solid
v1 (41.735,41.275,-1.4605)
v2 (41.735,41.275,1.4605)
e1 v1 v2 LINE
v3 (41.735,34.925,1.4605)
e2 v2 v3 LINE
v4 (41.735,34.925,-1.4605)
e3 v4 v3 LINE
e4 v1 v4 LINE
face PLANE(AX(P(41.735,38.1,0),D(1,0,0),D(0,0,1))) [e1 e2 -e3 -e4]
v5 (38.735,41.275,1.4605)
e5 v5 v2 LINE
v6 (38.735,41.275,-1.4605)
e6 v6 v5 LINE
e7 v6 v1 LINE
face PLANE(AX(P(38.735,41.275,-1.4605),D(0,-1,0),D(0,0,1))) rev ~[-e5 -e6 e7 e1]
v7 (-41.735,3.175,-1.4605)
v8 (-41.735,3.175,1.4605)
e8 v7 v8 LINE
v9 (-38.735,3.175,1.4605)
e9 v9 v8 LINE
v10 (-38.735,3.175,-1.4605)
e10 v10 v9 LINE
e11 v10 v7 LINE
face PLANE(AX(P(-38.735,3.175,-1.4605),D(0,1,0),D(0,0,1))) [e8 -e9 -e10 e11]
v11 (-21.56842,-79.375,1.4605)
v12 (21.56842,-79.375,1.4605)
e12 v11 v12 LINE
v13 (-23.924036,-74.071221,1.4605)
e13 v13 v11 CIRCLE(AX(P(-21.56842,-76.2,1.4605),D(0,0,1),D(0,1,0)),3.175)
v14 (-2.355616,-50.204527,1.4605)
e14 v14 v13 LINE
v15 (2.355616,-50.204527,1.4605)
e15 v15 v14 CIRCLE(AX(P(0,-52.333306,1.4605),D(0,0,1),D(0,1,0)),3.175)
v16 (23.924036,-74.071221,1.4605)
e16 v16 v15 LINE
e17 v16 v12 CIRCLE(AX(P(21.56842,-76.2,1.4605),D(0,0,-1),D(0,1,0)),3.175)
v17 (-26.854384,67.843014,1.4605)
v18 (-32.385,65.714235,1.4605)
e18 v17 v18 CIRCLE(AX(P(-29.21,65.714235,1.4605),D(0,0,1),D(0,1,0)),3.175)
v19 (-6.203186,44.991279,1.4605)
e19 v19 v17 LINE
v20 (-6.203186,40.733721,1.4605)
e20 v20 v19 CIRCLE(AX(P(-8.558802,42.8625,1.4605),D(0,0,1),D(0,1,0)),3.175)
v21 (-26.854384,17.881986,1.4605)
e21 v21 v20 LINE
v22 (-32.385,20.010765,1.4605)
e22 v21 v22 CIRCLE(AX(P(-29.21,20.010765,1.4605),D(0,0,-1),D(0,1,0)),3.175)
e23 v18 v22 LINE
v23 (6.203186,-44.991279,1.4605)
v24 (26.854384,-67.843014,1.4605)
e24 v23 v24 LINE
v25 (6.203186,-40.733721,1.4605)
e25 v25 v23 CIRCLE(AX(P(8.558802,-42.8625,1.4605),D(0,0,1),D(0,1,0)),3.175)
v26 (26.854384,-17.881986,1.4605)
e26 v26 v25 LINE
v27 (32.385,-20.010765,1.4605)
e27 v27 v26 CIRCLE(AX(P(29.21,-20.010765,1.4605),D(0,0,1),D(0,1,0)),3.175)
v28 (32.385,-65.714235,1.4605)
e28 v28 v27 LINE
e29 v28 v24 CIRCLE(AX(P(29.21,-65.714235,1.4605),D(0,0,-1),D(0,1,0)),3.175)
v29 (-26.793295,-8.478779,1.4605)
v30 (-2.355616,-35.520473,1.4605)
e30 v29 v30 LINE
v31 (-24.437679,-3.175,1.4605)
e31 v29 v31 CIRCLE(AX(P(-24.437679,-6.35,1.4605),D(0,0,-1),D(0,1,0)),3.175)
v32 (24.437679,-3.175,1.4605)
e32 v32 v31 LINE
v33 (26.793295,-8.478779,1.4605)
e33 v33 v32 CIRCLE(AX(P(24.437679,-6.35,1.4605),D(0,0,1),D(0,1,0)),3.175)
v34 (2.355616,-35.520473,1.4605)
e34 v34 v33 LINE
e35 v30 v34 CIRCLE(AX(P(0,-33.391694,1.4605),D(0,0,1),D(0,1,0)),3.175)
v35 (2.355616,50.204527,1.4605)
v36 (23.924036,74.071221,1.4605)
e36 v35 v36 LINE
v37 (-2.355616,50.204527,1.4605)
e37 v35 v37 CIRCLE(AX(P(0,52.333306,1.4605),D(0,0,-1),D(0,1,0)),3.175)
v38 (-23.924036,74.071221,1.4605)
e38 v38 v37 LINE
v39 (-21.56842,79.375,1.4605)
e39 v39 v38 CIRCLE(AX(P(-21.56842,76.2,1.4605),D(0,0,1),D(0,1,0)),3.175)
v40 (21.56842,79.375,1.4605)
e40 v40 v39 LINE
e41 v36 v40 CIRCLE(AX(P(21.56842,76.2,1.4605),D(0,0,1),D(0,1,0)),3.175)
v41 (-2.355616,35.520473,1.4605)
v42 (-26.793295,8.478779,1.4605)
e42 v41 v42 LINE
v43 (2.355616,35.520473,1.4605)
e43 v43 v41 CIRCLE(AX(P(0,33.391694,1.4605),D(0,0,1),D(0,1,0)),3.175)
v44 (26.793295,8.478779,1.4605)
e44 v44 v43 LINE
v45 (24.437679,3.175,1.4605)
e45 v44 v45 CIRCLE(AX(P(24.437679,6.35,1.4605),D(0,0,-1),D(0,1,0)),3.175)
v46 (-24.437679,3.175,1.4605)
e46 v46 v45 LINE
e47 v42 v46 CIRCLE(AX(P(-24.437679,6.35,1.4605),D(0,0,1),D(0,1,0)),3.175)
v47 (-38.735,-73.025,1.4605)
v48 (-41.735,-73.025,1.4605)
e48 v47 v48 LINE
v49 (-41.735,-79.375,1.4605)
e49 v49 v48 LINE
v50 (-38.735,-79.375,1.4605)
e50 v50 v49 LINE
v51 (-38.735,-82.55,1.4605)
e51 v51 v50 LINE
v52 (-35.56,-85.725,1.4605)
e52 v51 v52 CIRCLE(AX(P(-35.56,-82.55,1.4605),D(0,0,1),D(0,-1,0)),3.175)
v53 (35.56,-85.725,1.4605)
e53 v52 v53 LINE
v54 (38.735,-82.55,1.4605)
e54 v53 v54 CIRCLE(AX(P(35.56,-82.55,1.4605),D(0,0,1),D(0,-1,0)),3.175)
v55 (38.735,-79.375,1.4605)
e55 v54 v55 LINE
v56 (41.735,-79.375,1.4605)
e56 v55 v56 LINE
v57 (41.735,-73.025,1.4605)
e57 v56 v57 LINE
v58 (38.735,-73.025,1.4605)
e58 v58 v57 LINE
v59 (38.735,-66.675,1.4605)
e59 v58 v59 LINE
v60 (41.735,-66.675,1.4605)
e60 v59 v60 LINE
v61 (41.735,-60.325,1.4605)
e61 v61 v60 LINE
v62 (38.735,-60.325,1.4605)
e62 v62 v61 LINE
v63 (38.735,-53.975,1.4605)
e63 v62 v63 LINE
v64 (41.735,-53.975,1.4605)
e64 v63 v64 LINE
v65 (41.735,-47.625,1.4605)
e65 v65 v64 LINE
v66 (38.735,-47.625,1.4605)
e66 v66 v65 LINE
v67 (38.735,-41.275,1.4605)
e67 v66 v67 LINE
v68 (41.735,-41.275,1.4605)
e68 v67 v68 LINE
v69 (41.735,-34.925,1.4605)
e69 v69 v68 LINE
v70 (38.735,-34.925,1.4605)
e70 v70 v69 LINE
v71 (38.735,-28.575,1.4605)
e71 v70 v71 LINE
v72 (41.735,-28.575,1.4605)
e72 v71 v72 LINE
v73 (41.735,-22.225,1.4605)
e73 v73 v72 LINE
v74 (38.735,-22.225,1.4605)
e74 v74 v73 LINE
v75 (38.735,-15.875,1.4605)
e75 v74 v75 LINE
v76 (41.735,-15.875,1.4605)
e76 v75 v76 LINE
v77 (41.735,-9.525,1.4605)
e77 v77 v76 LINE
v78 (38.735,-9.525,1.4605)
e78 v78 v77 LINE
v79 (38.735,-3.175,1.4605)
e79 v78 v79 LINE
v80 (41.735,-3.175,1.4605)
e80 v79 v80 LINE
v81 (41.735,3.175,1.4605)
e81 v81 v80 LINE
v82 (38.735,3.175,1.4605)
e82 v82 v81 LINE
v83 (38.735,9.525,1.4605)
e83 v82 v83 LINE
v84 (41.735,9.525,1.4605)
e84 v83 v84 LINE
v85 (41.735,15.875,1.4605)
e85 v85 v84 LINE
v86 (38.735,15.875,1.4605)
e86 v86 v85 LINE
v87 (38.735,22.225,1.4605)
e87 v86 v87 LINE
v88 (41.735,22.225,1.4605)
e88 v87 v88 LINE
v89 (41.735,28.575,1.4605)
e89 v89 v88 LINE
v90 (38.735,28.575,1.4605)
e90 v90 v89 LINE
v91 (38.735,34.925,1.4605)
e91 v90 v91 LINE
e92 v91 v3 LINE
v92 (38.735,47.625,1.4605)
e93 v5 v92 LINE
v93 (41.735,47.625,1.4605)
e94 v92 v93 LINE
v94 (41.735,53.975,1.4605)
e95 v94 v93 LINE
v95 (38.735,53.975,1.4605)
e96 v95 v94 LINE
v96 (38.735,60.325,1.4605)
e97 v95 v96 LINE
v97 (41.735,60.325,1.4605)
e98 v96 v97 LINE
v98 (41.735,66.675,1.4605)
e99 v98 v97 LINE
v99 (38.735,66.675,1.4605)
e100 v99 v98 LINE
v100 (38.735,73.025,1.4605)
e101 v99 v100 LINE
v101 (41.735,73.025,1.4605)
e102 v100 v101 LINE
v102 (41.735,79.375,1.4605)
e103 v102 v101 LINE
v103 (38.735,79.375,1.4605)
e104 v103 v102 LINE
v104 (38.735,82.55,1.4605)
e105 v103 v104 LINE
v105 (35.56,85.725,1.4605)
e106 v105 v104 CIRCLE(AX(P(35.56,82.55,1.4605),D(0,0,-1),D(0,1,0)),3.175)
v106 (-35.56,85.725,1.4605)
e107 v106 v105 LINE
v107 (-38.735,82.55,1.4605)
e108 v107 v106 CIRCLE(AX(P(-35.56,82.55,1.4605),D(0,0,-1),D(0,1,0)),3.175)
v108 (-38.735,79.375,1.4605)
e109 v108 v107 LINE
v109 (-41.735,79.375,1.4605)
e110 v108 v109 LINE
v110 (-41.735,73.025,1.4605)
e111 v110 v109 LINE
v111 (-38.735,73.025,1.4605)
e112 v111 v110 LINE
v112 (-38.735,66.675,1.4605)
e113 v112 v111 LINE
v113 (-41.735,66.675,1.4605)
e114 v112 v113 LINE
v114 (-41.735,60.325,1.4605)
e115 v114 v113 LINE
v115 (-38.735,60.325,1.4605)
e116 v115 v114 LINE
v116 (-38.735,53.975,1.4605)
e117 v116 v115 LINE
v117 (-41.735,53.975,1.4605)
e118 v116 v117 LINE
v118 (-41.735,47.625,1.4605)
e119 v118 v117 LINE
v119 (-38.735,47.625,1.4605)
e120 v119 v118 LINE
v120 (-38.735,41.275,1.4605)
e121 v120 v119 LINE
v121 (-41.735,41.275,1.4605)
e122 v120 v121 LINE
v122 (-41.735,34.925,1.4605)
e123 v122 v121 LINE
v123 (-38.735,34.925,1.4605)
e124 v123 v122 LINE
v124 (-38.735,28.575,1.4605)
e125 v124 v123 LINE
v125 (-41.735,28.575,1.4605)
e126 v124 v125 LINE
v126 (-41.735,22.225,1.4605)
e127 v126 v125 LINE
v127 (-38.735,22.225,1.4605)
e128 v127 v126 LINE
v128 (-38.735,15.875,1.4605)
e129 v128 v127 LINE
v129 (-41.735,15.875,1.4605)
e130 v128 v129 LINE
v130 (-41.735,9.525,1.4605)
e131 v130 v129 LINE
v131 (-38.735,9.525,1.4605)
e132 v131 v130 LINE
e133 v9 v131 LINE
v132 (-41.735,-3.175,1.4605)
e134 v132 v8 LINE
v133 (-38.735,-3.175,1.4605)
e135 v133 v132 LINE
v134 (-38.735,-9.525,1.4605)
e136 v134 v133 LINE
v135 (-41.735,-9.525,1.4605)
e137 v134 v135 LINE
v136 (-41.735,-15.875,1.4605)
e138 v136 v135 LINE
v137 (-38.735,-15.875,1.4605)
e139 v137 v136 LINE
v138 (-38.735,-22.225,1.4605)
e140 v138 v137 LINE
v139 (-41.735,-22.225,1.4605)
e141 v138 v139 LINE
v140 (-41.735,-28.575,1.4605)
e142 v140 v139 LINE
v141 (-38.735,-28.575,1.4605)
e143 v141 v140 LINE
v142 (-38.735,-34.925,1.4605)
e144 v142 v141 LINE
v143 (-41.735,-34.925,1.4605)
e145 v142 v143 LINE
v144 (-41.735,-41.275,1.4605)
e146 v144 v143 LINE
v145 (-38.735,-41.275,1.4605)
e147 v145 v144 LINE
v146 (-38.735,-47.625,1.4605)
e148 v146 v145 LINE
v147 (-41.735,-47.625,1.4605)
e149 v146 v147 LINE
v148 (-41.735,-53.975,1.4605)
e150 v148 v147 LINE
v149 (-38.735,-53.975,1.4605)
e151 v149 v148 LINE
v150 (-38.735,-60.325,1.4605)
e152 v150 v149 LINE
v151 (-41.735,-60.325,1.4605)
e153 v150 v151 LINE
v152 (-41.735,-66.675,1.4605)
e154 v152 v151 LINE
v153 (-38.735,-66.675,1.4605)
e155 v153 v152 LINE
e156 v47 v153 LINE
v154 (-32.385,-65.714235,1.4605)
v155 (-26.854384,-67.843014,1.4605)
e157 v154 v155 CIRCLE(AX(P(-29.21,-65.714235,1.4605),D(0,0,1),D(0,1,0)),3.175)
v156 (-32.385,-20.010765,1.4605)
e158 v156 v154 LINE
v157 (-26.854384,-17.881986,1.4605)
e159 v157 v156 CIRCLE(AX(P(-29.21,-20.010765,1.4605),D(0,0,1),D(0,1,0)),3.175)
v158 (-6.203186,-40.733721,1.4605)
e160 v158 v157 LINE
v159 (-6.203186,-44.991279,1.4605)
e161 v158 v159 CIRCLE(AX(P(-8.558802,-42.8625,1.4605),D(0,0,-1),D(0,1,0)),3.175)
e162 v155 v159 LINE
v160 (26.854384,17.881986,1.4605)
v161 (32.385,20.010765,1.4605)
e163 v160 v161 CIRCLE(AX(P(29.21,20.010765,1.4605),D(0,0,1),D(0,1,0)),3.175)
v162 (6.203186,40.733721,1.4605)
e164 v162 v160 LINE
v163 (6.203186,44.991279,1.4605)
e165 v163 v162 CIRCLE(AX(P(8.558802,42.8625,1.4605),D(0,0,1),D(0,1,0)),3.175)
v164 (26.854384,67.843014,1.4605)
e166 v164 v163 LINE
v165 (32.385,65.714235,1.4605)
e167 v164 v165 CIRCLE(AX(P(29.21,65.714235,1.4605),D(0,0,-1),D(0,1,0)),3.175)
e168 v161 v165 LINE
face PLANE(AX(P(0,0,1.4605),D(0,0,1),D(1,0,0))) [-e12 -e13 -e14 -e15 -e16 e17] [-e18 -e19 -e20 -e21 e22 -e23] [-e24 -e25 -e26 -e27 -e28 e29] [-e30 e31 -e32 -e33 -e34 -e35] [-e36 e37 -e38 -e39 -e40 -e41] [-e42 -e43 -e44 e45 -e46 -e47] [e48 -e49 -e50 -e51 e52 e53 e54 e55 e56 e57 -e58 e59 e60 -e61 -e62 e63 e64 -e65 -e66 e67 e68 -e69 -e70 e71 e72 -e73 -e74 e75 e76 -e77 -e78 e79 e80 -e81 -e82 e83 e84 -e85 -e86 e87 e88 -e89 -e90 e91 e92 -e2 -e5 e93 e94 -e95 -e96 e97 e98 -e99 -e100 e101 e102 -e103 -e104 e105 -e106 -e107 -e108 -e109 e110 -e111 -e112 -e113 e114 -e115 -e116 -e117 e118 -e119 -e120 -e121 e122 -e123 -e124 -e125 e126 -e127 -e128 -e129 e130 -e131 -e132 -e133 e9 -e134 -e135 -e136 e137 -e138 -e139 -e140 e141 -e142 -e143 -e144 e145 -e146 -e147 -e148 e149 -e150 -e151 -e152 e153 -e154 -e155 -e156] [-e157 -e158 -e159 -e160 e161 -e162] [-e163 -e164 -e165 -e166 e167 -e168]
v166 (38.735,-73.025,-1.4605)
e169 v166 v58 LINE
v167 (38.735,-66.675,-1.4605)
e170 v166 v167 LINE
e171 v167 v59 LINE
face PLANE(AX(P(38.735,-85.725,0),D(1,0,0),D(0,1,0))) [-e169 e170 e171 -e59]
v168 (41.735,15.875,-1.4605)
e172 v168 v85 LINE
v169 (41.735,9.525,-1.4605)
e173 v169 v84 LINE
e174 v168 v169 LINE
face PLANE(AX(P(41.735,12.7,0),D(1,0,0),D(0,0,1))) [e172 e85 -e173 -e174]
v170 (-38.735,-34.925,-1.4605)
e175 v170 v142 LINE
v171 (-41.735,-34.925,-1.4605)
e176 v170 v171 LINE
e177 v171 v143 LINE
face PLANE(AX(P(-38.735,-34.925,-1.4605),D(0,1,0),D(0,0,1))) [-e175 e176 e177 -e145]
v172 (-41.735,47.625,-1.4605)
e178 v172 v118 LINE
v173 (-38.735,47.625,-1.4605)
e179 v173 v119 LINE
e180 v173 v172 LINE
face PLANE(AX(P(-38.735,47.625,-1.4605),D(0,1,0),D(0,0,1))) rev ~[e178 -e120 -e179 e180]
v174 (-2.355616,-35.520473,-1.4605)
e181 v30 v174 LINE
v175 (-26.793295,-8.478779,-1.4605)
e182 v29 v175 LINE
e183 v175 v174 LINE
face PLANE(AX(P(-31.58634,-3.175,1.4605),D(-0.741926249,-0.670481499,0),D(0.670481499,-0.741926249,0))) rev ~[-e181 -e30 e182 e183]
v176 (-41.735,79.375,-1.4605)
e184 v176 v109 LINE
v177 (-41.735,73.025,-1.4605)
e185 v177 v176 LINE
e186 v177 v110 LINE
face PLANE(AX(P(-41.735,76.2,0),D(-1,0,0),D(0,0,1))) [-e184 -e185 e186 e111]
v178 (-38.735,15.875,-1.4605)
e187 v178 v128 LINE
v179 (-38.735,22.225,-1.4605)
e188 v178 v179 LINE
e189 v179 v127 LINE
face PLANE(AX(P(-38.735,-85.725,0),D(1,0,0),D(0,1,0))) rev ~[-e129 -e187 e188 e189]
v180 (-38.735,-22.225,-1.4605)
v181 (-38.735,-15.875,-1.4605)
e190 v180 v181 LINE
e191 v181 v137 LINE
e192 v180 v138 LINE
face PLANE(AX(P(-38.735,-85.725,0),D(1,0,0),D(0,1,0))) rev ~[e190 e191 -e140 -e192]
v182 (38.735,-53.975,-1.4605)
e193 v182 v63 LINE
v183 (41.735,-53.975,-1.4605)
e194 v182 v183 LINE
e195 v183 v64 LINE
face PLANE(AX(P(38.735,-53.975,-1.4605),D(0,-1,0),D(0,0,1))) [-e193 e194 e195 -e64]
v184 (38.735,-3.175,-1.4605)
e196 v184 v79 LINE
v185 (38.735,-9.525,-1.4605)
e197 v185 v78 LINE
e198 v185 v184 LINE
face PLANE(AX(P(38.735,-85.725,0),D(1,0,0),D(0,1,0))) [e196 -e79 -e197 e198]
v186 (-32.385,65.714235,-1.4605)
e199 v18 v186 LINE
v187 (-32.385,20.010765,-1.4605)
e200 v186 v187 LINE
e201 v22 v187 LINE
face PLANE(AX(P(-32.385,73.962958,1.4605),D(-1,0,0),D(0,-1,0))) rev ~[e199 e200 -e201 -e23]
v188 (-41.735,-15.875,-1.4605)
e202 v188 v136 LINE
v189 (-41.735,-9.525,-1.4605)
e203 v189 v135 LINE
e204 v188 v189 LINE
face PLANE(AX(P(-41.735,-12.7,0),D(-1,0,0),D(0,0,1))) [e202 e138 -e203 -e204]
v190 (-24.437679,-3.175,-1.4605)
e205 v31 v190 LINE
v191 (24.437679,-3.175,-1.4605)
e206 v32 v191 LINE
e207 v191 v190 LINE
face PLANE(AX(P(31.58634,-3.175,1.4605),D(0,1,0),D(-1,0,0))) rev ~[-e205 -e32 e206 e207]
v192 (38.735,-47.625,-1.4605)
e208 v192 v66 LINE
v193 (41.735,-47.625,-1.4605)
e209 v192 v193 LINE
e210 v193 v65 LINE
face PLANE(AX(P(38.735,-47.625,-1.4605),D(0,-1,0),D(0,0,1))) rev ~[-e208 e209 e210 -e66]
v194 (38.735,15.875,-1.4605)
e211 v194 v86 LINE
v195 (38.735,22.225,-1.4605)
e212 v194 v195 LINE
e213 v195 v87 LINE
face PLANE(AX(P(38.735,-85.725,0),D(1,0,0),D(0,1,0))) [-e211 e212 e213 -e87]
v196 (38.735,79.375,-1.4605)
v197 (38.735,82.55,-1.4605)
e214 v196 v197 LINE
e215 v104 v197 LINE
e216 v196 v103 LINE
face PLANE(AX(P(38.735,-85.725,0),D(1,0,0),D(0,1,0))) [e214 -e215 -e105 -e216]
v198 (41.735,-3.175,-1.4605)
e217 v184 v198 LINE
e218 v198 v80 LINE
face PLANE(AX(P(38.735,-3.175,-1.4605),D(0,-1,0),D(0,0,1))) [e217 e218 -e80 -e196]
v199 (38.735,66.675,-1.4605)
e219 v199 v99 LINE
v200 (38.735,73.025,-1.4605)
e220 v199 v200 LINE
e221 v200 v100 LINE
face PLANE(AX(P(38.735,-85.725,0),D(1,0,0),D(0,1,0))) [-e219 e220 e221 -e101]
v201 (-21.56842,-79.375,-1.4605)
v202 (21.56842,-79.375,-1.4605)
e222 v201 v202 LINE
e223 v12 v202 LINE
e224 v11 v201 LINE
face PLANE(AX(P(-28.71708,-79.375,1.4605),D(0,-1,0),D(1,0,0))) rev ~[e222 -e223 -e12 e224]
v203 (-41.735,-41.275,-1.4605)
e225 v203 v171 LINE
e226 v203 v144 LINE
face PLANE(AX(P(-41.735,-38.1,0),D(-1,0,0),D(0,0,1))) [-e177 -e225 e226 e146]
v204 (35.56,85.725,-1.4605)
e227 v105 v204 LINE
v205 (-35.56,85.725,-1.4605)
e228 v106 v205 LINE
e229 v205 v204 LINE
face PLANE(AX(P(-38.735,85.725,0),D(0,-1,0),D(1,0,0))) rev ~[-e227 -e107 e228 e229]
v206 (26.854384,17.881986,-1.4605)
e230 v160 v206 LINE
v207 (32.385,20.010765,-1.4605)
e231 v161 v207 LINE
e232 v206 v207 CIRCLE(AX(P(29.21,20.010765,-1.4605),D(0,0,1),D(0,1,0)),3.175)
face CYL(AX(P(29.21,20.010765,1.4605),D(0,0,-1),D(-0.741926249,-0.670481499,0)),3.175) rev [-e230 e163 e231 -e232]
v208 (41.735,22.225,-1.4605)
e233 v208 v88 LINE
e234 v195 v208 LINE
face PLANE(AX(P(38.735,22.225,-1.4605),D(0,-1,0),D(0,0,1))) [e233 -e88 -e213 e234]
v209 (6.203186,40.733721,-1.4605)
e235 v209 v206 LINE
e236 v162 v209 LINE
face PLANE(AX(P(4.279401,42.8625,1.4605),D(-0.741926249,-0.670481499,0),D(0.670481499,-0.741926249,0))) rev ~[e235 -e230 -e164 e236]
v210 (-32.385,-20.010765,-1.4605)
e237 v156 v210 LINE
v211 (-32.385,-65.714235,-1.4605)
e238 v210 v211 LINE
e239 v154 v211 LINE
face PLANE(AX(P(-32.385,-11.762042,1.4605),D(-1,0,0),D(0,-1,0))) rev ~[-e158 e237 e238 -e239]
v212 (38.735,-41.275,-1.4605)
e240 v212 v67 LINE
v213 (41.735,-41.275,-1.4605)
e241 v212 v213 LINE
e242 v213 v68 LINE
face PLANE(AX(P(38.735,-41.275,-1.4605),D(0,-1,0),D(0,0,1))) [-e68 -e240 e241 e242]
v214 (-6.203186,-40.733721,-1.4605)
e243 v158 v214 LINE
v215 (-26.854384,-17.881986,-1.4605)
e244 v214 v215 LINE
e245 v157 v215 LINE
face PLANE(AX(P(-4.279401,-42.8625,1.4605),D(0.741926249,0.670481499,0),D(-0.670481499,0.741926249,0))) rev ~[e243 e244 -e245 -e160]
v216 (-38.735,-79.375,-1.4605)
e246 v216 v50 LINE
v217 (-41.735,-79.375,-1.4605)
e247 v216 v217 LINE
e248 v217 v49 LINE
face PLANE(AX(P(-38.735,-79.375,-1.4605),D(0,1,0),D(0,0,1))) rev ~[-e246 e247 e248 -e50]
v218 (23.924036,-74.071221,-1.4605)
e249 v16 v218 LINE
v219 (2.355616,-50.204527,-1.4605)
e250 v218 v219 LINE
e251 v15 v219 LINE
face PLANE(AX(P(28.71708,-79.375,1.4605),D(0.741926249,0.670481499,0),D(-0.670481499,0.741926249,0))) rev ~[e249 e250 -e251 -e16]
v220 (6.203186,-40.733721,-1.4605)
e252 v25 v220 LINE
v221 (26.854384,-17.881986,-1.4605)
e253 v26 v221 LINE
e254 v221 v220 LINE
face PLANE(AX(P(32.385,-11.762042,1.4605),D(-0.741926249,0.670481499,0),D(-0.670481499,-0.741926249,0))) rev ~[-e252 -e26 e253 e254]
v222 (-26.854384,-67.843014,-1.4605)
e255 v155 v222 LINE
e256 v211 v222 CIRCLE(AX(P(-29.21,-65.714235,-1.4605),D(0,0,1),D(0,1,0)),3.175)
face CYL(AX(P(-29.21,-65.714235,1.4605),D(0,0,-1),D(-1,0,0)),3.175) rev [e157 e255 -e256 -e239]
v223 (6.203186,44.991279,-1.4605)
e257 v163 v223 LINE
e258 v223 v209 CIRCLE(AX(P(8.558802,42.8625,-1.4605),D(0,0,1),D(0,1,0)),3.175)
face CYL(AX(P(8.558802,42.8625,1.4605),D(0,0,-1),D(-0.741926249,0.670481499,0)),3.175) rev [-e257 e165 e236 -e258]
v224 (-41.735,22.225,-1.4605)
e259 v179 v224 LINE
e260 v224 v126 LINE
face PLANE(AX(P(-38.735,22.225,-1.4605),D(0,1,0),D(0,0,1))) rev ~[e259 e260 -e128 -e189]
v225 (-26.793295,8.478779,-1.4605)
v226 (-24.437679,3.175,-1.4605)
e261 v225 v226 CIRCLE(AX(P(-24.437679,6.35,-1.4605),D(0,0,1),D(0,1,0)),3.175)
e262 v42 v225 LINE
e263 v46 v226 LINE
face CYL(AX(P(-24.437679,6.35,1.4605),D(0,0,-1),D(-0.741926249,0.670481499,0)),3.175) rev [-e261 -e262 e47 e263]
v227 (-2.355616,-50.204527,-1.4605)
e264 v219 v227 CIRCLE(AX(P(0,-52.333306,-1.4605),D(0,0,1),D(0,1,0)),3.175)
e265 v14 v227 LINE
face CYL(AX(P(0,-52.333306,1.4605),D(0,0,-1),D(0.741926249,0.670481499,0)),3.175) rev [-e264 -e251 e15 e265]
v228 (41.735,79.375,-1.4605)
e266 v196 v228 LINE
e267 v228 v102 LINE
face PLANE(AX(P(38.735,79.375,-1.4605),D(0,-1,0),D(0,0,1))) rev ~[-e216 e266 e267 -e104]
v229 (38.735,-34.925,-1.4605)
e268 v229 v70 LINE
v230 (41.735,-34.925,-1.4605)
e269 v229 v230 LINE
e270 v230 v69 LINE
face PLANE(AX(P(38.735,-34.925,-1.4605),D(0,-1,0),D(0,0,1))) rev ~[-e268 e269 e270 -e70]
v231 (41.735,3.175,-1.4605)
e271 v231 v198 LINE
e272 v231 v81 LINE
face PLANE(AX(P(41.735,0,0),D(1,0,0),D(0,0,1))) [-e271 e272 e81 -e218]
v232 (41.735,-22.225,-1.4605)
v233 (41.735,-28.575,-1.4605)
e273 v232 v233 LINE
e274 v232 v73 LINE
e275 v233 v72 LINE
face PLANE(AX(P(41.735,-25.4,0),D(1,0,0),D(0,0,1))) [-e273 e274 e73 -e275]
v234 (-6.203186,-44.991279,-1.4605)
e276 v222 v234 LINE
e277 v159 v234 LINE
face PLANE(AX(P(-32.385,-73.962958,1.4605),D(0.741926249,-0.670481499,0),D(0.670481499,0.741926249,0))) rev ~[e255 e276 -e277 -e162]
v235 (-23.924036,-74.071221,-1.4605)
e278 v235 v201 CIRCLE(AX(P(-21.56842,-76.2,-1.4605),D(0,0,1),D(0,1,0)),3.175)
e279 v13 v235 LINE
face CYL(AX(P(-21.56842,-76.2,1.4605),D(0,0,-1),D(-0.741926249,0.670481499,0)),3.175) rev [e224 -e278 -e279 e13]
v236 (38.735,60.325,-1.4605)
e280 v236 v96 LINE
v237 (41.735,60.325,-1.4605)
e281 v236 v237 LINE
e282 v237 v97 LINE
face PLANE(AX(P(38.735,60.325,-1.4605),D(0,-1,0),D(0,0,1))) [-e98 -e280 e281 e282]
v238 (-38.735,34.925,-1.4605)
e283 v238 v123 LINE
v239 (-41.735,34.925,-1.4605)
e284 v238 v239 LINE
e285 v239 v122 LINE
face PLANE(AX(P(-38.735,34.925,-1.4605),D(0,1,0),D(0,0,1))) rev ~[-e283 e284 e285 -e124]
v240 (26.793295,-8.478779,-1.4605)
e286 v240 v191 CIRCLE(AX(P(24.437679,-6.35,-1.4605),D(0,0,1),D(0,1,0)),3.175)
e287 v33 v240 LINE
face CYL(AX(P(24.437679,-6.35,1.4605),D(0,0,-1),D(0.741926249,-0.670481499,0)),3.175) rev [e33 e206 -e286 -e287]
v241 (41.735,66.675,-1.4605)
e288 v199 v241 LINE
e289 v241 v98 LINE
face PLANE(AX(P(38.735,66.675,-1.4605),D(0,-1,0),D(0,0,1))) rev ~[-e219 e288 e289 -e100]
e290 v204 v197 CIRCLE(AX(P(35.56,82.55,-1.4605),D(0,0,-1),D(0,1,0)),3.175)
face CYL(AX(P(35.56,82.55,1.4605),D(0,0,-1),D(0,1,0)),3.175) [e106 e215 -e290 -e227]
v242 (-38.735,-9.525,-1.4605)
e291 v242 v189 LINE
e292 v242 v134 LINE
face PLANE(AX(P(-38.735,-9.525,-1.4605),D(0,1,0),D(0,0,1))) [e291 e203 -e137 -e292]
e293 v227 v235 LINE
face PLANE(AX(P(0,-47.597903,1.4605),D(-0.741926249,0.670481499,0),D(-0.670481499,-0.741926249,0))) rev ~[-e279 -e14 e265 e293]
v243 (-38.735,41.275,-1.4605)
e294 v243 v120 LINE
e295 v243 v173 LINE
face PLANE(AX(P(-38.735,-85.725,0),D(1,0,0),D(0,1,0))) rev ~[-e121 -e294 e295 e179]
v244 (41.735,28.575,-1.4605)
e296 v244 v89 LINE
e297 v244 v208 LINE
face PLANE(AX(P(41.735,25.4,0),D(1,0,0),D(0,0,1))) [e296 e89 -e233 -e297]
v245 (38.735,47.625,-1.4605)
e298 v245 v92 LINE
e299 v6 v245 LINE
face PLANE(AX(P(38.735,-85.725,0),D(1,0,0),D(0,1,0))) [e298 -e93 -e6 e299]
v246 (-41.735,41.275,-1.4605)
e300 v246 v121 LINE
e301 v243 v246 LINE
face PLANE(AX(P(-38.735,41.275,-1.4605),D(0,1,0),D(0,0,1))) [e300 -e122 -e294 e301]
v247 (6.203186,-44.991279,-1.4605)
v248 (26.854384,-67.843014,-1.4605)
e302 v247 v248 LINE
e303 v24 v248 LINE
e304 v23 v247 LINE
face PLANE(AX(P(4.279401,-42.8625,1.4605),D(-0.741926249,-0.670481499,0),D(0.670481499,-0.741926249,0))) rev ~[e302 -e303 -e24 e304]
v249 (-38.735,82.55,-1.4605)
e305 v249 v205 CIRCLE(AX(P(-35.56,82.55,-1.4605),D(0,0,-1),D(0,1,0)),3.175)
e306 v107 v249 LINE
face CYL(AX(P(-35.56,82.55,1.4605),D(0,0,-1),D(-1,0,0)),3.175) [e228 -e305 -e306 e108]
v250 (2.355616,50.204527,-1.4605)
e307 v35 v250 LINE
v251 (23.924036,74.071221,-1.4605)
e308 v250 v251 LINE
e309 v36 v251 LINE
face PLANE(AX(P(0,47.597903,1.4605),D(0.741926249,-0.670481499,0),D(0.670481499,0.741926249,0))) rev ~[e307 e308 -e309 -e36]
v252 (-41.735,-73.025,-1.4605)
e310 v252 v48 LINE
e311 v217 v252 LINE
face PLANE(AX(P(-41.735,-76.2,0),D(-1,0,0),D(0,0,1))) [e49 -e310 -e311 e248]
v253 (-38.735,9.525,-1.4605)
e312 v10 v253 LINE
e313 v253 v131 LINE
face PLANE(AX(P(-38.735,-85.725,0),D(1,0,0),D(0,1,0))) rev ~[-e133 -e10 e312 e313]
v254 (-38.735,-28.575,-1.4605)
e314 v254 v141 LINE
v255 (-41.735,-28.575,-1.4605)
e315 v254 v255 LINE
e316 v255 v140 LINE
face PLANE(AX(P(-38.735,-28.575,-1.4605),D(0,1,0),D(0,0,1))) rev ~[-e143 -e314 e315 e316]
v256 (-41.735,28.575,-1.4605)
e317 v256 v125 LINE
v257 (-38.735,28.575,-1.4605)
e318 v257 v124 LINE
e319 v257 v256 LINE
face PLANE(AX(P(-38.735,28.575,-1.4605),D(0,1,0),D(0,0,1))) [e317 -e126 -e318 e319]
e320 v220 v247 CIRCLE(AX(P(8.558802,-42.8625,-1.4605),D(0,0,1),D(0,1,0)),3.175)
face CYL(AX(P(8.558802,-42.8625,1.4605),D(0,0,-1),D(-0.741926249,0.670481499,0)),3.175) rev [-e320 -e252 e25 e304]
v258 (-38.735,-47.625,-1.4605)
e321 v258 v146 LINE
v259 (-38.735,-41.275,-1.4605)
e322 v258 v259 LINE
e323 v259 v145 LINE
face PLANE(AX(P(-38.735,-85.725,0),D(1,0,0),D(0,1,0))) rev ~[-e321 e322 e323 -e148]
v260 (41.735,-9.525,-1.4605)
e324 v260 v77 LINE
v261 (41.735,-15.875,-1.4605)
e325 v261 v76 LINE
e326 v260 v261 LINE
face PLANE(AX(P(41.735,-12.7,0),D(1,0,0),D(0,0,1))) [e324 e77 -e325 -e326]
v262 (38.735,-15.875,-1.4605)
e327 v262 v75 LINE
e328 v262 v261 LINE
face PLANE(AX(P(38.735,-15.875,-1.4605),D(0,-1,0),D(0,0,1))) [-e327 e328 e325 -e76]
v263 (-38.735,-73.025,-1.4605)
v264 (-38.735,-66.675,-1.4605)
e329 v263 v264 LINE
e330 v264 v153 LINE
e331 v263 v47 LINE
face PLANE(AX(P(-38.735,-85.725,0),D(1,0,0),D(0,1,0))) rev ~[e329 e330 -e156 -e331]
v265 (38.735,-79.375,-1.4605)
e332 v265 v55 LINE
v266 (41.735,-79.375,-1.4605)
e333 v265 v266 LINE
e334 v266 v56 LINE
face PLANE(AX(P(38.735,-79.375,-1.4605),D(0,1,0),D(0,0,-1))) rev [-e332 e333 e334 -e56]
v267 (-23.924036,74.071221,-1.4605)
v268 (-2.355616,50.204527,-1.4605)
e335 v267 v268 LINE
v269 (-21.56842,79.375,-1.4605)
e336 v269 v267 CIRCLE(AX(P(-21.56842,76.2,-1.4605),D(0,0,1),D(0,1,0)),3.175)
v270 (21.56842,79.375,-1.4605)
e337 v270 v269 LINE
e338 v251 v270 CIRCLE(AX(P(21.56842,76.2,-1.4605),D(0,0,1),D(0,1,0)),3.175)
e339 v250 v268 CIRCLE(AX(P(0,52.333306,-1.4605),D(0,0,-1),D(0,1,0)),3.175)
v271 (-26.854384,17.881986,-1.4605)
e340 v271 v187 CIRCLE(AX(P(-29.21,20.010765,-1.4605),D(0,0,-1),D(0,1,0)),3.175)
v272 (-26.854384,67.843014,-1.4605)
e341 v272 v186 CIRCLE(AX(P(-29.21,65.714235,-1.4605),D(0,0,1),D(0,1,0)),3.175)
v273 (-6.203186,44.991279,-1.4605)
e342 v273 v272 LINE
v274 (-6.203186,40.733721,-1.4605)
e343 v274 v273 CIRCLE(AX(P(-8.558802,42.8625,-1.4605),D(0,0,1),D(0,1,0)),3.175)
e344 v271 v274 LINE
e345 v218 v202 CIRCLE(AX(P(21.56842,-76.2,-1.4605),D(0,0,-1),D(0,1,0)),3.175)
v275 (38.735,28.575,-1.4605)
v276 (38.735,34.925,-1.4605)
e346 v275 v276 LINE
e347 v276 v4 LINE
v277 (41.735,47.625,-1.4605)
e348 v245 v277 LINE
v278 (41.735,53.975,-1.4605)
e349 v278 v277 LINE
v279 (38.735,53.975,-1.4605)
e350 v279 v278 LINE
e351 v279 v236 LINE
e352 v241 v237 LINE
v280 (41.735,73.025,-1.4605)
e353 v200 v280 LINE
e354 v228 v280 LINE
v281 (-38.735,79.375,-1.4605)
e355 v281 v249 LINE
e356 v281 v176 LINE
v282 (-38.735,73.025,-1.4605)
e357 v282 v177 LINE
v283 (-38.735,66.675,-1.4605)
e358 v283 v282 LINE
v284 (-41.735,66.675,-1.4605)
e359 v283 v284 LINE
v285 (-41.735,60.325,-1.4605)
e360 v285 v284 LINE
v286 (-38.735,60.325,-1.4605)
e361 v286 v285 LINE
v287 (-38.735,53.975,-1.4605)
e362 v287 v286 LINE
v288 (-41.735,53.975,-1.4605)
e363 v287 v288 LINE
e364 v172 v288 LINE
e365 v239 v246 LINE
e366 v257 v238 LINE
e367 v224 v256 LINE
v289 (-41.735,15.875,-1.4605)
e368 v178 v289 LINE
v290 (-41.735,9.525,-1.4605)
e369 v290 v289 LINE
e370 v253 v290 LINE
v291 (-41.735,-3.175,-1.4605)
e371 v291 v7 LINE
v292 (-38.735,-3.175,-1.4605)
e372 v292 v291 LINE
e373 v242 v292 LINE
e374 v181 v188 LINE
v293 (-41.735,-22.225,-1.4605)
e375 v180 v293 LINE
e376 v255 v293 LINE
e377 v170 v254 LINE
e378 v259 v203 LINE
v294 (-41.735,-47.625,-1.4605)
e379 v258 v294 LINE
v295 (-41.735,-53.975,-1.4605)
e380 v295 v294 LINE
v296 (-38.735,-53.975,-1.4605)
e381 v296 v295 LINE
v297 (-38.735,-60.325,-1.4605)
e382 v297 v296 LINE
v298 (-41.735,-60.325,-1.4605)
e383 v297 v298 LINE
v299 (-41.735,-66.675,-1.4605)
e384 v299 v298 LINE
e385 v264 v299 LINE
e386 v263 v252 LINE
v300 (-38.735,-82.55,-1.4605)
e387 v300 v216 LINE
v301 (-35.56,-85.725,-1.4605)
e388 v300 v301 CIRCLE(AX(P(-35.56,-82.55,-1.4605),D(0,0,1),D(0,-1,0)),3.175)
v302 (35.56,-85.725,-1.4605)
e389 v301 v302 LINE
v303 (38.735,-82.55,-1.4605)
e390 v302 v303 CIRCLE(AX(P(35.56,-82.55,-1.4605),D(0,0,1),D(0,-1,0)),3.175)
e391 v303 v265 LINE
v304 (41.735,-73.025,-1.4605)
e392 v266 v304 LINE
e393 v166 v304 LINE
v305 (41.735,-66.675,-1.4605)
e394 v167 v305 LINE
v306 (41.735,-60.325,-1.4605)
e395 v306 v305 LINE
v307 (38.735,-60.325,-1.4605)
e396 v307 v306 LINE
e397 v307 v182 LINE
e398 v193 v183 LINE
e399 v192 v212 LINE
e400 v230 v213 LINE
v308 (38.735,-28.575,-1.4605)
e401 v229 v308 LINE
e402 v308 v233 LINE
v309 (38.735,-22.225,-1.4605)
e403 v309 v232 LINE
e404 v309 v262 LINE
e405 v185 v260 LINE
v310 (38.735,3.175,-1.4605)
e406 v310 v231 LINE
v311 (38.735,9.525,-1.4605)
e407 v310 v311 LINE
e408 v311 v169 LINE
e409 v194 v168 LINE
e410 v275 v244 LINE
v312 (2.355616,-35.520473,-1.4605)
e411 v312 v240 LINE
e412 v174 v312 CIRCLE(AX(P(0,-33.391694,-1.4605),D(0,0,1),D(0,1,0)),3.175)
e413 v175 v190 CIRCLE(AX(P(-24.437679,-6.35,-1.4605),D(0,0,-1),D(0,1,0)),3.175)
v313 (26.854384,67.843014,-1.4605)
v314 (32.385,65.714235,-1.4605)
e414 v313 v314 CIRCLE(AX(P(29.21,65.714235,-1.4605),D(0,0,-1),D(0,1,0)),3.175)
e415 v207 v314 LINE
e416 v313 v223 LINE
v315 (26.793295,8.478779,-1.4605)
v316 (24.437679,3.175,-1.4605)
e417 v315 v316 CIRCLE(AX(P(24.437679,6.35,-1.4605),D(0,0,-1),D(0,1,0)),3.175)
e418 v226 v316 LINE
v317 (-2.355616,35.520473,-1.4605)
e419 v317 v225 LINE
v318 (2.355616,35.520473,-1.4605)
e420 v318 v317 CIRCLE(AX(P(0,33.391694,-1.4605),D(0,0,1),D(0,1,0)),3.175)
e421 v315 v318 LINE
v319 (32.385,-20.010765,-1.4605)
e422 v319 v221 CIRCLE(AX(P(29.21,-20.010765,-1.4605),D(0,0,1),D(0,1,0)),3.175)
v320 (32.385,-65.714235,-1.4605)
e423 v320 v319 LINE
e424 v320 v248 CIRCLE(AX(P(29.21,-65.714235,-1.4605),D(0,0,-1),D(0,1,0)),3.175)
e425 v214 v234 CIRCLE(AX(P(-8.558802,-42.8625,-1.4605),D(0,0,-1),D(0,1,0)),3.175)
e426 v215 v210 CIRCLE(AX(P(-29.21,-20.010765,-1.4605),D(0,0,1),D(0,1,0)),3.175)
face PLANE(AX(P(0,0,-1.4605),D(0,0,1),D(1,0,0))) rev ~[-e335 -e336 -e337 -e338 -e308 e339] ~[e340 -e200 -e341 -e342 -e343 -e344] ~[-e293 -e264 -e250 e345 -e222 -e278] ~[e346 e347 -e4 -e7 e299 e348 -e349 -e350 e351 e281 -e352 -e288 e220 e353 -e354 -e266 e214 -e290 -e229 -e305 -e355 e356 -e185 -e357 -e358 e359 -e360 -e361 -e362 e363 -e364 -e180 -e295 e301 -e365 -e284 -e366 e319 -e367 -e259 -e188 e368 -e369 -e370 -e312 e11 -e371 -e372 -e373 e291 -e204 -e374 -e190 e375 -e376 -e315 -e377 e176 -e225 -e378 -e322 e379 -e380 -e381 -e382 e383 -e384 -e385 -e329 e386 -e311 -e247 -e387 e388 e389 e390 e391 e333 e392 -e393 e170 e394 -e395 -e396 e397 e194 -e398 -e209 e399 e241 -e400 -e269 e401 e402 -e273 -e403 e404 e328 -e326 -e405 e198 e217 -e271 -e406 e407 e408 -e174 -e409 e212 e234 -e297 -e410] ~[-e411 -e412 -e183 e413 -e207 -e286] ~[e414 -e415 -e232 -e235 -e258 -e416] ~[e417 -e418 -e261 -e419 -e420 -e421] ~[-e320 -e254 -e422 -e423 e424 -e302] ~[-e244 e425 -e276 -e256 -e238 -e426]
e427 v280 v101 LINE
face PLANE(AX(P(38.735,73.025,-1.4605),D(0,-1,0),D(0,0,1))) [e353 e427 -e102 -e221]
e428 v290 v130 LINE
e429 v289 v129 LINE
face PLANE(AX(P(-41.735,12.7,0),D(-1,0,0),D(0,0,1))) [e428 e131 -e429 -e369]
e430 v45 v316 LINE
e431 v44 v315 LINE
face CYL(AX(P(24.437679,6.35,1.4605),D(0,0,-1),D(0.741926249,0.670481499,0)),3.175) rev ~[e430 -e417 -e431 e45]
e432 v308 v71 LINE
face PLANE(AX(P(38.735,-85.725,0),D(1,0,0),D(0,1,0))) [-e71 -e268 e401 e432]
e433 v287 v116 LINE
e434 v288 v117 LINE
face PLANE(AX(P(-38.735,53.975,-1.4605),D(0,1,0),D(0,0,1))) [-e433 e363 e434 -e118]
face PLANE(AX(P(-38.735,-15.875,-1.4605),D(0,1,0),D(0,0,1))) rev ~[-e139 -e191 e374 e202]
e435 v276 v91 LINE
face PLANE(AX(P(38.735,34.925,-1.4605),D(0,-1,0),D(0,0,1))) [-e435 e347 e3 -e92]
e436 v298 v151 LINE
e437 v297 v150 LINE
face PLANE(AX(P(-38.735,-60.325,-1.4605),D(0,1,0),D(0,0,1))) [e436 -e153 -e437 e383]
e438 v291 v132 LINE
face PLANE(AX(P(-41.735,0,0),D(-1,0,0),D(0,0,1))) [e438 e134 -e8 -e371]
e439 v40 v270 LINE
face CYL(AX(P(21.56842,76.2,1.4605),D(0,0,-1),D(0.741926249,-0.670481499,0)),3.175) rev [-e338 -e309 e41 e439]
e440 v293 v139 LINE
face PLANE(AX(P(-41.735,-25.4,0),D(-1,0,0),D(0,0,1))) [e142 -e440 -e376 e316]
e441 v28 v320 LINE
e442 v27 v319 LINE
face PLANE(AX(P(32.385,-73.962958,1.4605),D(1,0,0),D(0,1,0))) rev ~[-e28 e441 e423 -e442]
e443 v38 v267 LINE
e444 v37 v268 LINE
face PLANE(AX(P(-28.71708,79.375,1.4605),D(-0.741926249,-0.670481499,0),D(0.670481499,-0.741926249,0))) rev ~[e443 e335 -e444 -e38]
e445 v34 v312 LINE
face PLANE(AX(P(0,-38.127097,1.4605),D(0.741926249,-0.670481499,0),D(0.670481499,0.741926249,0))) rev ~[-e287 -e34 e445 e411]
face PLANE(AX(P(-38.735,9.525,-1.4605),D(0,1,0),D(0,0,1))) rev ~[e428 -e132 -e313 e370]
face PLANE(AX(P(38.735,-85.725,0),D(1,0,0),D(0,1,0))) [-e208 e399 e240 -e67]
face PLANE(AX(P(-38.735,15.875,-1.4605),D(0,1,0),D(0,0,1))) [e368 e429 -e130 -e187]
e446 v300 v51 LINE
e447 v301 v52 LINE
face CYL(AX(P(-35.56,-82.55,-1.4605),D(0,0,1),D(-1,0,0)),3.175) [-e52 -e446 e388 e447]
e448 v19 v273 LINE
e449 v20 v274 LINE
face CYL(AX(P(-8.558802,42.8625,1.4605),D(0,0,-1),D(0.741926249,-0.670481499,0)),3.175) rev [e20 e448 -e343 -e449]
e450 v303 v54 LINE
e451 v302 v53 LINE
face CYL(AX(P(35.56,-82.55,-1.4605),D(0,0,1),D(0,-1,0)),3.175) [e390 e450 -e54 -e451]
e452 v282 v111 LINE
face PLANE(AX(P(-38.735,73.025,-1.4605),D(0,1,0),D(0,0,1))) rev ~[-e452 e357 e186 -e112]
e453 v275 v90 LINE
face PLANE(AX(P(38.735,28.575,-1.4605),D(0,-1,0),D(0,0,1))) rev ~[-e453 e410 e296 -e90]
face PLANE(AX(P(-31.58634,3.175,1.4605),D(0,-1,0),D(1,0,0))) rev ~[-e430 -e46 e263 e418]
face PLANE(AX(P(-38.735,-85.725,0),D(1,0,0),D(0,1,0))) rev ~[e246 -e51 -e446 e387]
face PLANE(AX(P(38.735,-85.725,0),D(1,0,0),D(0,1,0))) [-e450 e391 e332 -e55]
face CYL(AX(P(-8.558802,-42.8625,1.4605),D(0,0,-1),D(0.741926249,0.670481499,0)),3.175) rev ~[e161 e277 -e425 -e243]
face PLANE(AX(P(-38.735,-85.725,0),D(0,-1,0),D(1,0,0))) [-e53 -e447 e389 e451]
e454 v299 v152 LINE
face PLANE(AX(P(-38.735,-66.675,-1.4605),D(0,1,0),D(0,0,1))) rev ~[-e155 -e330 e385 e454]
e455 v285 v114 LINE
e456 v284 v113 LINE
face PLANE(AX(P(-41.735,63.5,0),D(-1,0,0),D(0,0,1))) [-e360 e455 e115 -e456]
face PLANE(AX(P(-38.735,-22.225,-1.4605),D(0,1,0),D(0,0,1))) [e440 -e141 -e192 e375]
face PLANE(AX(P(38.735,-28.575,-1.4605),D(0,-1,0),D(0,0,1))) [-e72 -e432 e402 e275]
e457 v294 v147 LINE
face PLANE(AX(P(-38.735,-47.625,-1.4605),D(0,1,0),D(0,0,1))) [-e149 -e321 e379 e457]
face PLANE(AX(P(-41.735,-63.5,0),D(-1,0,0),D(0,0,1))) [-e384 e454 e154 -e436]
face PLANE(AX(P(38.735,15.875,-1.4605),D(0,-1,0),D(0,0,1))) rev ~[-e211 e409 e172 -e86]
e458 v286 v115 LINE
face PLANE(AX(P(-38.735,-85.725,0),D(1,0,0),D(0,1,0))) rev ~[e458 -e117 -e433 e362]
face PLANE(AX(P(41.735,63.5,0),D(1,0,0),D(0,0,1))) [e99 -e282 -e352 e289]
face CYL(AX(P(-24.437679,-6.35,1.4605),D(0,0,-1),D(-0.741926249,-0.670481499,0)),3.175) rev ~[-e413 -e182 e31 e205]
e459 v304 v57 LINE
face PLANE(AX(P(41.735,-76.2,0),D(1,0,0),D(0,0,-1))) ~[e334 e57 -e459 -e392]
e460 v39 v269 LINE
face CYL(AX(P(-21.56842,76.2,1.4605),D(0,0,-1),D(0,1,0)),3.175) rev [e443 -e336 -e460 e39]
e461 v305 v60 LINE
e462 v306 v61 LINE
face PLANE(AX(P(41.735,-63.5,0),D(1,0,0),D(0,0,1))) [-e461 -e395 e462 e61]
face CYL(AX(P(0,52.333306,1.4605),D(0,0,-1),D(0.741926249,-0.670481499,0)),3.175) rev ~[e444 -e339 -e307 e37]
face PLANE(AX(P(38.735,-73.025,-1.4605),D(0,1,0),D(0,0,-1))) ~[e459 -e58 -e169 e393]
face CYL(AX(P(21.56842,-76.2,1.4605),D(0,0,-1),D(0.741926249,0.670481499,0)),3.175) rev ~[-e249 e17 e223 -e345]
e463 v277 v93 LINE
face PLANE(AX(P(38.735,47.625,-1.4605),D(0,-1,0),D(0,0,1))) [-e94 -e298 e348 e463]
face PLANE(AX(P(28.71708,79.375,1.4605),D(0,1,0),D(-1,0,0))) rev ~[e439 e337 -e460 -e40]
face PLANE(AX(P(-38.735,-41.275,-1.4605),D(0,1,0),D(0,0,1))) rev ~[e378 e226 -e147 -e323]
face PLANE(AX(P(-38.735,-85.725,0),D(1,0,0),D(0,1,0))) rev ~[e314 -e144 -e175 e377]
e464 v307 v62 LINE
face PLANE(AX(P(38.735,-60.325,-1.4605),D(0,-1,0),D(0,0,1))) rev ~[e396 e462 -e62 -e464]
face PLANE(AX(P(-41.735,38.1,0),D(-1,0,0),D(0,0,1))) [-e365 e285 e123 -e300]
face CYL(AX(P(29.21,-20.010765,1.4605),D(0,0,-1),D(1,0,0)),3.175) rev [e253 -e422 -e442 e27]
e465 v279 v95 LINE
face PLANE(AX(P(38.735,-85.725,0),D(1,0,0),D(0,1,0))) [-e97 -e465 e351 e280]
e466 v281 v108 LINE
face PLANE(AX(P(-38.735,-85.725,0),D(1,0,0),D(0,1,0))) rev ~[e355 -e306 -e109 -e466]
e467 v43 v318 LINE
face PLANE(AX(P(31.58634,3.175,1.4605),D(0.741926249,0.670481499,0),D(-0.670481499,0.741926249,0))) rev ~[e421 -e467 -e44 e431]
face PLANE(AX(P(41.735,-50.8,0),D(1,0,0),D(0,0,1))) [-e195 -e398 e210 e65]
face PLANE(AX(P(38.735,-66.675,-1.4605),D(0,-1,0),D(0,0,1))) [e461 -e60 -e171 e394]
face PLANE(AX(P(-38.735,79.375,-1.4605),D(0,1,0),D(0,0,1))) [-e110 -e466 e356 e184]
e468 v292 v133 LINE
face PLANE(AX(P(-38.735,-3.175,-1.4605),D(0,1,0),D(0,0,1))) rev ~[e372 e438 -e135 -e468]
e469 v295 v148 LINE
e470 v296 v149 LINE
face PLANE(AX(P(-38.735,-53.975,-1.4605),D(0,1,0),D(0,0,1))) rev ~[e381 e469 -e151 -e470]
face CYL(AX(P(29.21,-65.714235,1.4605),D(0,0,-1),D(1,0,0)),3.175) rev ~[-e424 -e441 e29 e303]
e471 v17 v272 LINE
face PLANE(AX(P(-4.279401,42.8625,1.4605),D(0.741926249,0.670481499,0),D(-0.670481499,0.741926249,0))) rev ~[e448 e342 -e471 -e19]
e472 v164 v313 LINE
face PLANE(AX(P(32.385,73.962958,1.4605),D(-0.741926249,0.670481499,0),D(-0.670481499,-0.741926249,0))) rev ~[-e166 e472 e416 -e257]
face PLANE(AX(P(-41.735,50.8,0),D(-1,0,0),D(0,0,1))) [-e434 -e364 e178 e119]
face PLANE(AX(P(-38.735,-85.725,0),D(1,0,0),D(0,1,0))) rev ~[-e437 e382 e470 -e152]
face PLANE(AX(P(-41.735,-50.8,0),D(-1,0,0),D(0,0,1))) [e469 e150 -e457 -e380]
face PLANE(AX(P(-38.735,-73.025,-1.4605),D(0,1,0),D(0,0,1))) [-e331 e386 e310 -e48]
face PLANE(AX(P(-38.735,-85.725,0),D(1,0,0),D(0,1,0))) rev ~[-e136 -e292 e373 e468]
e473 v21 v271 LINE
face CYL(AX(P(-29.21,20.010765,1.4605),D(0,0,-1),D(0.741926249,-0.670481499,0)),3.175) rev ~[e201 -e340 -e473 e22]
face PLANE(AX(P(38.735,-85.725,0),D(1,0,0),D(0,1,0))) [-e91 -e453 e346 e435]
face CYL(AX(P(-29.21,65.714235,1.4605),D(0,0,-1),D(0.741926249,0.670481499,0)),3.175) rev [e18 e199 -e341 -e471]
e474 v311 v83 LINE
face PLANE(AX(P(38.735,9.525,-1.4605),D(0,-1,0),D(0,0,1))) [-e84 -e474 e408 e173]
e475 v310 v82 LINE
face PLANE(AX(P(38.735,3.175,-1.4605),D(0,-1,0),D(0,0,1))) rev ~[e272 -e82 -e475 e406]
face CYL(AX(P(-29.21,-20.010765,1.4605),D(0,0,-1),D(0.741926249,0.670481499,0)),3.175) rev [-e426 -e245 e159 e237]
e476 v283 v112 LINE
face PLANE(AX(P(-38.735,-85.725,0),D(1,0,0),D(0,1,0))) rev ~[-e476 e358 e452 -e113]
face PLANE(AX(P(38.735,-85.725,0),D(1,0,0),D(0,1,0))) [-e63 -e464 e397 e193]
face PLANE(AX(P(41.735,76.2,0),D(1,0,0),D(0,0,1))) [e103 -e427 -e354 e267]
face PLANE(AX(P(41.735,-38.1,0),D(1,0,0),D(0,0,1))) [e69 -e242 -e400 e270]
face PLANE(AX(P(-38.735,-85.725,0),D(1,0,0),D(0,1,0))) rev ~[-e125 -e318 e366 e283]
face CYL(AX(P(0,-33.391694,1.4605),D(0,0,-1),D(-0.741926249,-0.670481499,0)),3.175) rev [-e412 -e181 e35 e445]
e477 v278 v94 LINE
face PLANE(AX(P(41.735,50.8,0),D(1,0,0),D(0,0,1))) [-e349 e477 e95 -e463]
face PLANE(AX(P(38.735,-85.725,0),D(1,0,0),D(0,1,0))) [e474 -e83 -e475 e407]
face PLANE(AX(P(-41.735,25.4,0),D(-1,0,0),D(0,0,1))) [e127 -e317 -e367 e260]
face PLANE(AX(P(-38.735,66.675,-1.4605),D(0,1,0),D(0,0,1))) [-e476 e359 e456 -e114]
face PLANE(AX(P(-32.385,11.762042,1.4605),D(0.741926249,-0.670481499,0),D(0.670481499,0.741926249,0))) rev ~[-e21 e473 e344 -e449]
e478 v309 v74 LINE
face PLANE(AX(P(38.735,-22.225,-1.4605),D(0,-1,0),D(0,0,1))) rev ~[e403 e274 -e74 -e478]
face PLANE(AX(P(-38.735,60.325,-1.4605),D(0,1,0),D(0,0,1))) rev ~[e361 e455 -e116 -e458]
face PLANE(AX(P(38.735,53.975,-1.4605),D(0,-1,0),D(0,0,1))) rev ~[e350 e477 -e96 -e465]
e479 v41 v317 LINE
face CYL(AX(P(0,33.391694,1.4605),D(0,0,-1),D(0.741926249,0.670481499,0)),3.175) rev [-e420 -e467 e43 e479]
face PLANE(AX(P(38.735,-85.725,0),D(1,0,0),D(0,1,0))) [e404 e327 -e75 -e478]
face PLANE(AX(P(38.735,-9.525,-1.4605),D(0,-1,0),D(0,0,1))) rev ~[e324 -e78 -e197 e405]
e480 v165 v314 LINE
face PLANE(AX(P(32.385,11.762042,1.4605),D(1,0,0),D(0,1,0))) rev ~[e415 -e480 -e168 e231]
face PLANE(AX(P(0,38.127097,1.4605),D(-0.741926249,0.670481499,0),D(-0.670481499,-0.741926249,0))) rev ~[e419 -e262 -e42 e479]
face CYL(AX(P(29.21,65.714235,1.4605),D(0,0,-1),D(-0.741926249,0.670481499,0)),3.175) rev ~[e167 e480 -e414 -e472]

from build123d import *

# Parameters (mm, degrees)
SKETCH1_W                = 77.47
SKETCH1_H                = 171.45
BOSS_EXTRUDE1_DEPTH      = 1.4605
SKETCH3_W                = 2.921
SKETCH3_H                = 6.35
BOSS_EXTRUDE2_DEPTH      = 3
LPATTERN1_COUNT          = 13
LPATTERN1_PITCH          = 12.7
MIRROR1_COPY_1_SKETCH_W  = 2.921
MIRROR1_COPY_1_SKETCH_H  = 6.35
MIRROR1_COPY_1_DEPTH     = 3
MIRROR1_COPY_2_SKETCH_W  = 2.921
MIRROR1_COPY_2_SKETCH_H  = 6.35
MIRROR1_COPY_2_DEPTH     = 3
MIRROR1_COPY_3_SKETCH_W  = 2.921
MIRROR1_COPY_3_SKETCH_H  = 6.35
MIRROR1_COPY_3_DEPTH     = 3
MIRROR1_COPY_4_SKETCH_W  = 2.921
MIRROR1_COPY_4_SKETCH_H  = 6.35
MIRROR1_COPY_4_DEPTH     = 3
MIRROR1_COPY_5_SKETCH_W  = 2.921
MIRROR1_COPY_5_SKETCH_H  = 6.35
MIRROR1_COPY_5_DEPTH     = 3
MIRROR1_COPY_6_SKETCH_W  = 2.921
MIRROR1_COPY_6_SKETCH_H  = 6.35
MIRROR1_COPY_6_DEPTH     = 3
MIRROR1_COPY_7_SKETCH_W  = 2.921
MIRROR1_COPY_7_SKETCH_H  = 6.35
MIRROR1_COPY_7_DEPTH     = 3
MIRROR1_COPY_8_SKETCH_W  = 2.921
MIRROR1_COPY_8_SKETCH_H  = 6.35
MIRROR1_COPY_8_DEPTH     = 3
MIRROR1_COPY_9_SKETCH_W  = 2.921
MIRROR1_COPY_9_SKETCH_H  = 6.35
MIRROR1_COPY_9_DEPTH     = 3
MIRROR1_COPY_10_SKETCH_W = 2.921
MIRROR1_COPY_10_SKETCH_H = 6.35
MIRROR1_COPY_10_DEPTH    = 3
MIRROR1_COPY_11_SKETCH_W = 2.921
MIRROR1_COPY_11_SKETCH_H = 6.35
MIRROR1_COPY_11_DEPTH    = 3
MIRROR1_COPY_12_SKETCH_W = 2.921
MIRROR1_COPY_12_SKETCH_H = 6.35
MIRROR1_COPY_12_DEPTH    = 3
CUT_EXTRUDE1_DEPTH       = 96.389297571
FILLET1_R                = 3.175
FILLET2_R                = 3.175


with BuildPart() as part:
    # Sketch1 → Boss-Extrude1 (new, symmetric)
    with BuildSketch(Plane.XY):
        Rectangle(SKETCH1_W, SKETCH1_H)
    extrude(amount=BOSS_EXTRUDE1_DEPTH, both=True)

    # Sketch3 → Boss-Extrude2 (add)
    with BuildSketch(Plane.ZY.offset(38.735)):
        with Locations((0, -76.2)):
            Rectangle(SKETCH3_W, SKETCH3_H)
    boss_extrude2 = extrude(amount=BOSS_EXTRUDE2_DEPTH)

    # LPattern1: Boss-Extrude2 ×13
    with Locations(*[(0, i * LPATTERN1_PITCH, 0) for i in range(1, LPATTERN1_COUNT)]):
        add(boss_extrude2)

    # Mirror1: Boss-Extrude2 across plane
    add(boss_extrude2.mirror(Plane.ZY))

    # Mirror1 copy 1 sketch → Mirror1 copy 1 (add)
    with BuildSketch(Plane(origin=(38.735, 12.7, 0), x_dir=(0, 0, 1), z_dir=(1, 0, 0))):
        with Locations((0, 76.2)):
            Rectangle(MIRROR1_COPY_1_SKETCH_W, MIRROR1_COPY_1_SKETCH_H)
    extrude(amount=MIRROR1_COPY_1_DEPTH)

    # Mirror1 copy 2 sketch → Mirror1 copy 2 (add)
    with BuildSketch(Plane(origin=(38.735, 25.4, 0), x_dir=(0, 0, 1), z_dir=(1, 0, 0))):
        with Locations((0, 76.2)):
            Rectangle(MIRROR1_COPY_2_SKETCH_W, MIRROR1_COPY_2_SKETCH_H)
    extrude(amount=MIRROR1_COPY_2_DEPTH)

    # Mirror1 copy 3 sketch → Mirror1 copy 3 (add)
    with BuildSketch(Plane(origin=(38.735, 38.1, 0), x_dir=(0, 0, 1), z_dir=(1, 0, 0))):
        with Locations((0, 76.2)):
            Rectangle(MIRROR1_COPY_3_SKETCH_W, MIRROR1_COPY_3_SKETCH_H)
    extrude(amount=MIRROR1_COPY_3_DEPTH)

    # Mirror1 copy 4 sketch → Mirror1 copy 4 (add)
    with BuildSketch(Plane(origin=(38.735, 50.8, 0), x_dir=(0, 0, 1), z_dir=(1, 0, 0))):
        with Locations((0, 76.2)):
            Rectangle(MIRROR1_COPY_4_SKETCH_W, MIRROR1_COPY_4_SKETCH_H)
    extrude(amount=MIRROR1_COPY_4_DEPTH)

    # Mirror1 copy 5 sketch → Mirror1 copy 5 (add)
    with BuildSketch(Plane(origin=(38.735, 63.5, 0), x_dir=(0, 0, 1), z_dir=(1, 0, 0))):
        with Locations((0, 76.2)):
            Rectangle(MIRROR1_COPY_5_SKETCH_W, MIRROR1_COPY_5_SKETCH_H)
    extrude(amount=MIRROR1_COPY_5_DEPTH)

    # Mirror1 copy 6 sketch → Mirror1 copy 6 (add)
    with BuildSketch(Plane(origin=(38.735, 76.2, 0), x_dir=(0, 0, 1), z_dir=(1, 0, 0))):
        with Locations((0, 76.2)):
            Rectangle(MIRROR1_COPY_6_SKETCH_W, MIRROR1_COPY_6_SKETCH_H)
    extrude(amount=MIRROR1_COPY_6_DEPTH)

    # Mirror1 copy 7 sketch → Mirror1 copy 7 (add)
    with BuildSketch(Plane(origin=(38.735, 88.9, 0), x_dir=(0, 0, 1), z_dir=(1, 0, 0))):
        with Locations((0, 76.2)):
            Rectangle(MIRROR1_COPY_7_SKETCH_W, MIRROR1_COPY_7_SKETCH_H)
    extrude(amount=MIRROR1_COPY_7_DEPTH)

    # Mirror1 copy 8 sketch → Mirror1 copy 8 (add)
    with BuildSketch(Plane(origin=(38.735, 101.6, 0), x_dir=(0, 0, 1), z_dir=(1, 0, 0))):
        with Locations((0, 76.2)):
            Rectangle(MIRROR1_COPY_8_SKETCH_W, MIRROR1_COPY_8_SKETCH_H)
    extrude(amount=MIRROR1_COPY_8_DEPTH)

    # Mirror1 copy 9 sketch → Mirror1 copy 9 (add)
    with BuildSketch(Plane(origin=(38.735, 114.3, 0), x_dir=(0, 0, 1), z_dir=(1, 0, 0))):
        with Locations((0, 76.2)):
            Rectangle(MIRROR1_COPY_9_SKETCH_W, MIRROR1_COPY_9_SKETCH_H)
    extrude(amount=MIRROR1_COPY_9_DEPTH)

    # Mirror1 copy 10 sketch → Mirror1 copy 10 (add)
    with BuildSketch(Plane(origin=(38.735, 127, 0), x_dir=(0, 0, 1), z_dir=(1, 0, 0))):
        with Locations((0, 76.2)):
            Rectangle(MIRROR1_COPY_10_SKETCH_W, MIRROR1_COPY_10_SKETCH_H)
    extrude(amount=MIRROR1_COPY_10_DEPTH)

    # Mirror1 copy 11 sketch → Mirror1 copy 11 (add)
    with BuildSketch(Plane(origin=(38.735, 139.7, 0), x_dir=(0, 0, 1), z_dir=(1, 0, 0))):
        with Locations((0, 76.2)):
            Rectangle(MIRROR1_COPY_11_SKETCH_W, MIRROR1_COPY_11_SKETCH_H)
    extrude(amount=MIRROR1_COPY_11_DEPTH)

    # Mirror1 copy 12 sketch → Mirror1 copy 12 (add)
    with BuildSketch(Plane(origin=(38.735, 152.4, 0), x_dir=(0, 0, 1), z_dir=(1, 0, 0))):
        with Locations((0, 76.2)):
            Rectangle(MIRROR1_COPY_12_SKETCH_W, MIRROR1_COPY_12_SKETCH_H)
    extrude(amount=MIRROR1_COPY_12_DEPTH)

    # Sketch4 → Cut-Extrude1 (cut, through all)
    with BuildSketch(Plane.XY.offset(1.4605)):
        Polygon((0, 47.597902846), (28.717080391, 79.375), (-28.717080391, 79.375), align=None)
        Polygon((-32.385, 11.762042191), (-4.279401091, 42.8625), (-32.385, 73.962957809), align=None)
        Polygon((32.385, 73.962957809), (4.279401091, 42.8625), (32.385, 11.762042191), align=None)
        Polygon((31.58633965, 3.175), (0, 38.127097154), (-31.58633965, 3.175), align=None)
        Polygon((-31.58633965, -3.175), (0, -38.127097154), (31.58633965, -3.175), align=None)
        Polygon((-4.279401091, -42.8625), (-32.385, -11.762042191), (-32.385, -73.962957809), align=None)
        Polygon((28.717080391, -79.375), (0, -47.597902846), (-28.717080391, -79.375), align=None)
        Polygon((32.385, -73.962957809), (32.385, -11.762042191), (4.279401091, -42.8625), align=None)
    extrude(amount=-CUT_EXTRUDE1_DEPTH, mode=Mode.SUBTRACT)

    # Fillet1
    fillet1_edges = [part.edges().sort_by_distance(p)[0] for p in [
        (-31.58633965, -3.175, 0),
        (31.58633965, -3.175, 0),
        (0, -38.127097154, 0),
        (-31.58633965, 3.175, 0),
        (0, 38.127097154, 0),
        (31.58633965, 3.175, 0),
        (32.385, 73.962957809, 0),
        (32.385, 11.762042191, 0),
        (4.279401091, 42.8625, 0),
        (-32.385, 73.962957809, 0),
        (-4.279401091, 42.8625, 0),
        (-32.385, 11.762042191, 0),
        (32.385, -11.762042191, 0),
        (32.385, -73.962957809, 0),
        (4.279401091, -42.8625, 0),
        (-32.385, -11.762042191, 0),
        (-4.279401091, -42.8625, 0),
        (-32.385, -73.962957809, 0),
        (-28.717080391, -79.375, 0),
        (0, -47.597902846, 0),
        (28.717080391, -79.375, 0),
        (-28.717080391, 79.375, 0),
        (28.717080391, 79.375, 0),
        (0, 47.597902846, 0),
    ]]
    fillet(fillet1_edges, radius=FILLET1_R)

    # Fillet2
    fillet2_edges = [part.edges().sort_by_distance(p)[0] for p in [
        (-38.735, 85.725, 0),
        (38.735, 85.725, 0),
        (38.735, -85.725, 0),
        (-38.735, -85.725, 0),
    ]]
    fillet(fillet2_edges, radius=FILLET2_R)


solid = part.part
